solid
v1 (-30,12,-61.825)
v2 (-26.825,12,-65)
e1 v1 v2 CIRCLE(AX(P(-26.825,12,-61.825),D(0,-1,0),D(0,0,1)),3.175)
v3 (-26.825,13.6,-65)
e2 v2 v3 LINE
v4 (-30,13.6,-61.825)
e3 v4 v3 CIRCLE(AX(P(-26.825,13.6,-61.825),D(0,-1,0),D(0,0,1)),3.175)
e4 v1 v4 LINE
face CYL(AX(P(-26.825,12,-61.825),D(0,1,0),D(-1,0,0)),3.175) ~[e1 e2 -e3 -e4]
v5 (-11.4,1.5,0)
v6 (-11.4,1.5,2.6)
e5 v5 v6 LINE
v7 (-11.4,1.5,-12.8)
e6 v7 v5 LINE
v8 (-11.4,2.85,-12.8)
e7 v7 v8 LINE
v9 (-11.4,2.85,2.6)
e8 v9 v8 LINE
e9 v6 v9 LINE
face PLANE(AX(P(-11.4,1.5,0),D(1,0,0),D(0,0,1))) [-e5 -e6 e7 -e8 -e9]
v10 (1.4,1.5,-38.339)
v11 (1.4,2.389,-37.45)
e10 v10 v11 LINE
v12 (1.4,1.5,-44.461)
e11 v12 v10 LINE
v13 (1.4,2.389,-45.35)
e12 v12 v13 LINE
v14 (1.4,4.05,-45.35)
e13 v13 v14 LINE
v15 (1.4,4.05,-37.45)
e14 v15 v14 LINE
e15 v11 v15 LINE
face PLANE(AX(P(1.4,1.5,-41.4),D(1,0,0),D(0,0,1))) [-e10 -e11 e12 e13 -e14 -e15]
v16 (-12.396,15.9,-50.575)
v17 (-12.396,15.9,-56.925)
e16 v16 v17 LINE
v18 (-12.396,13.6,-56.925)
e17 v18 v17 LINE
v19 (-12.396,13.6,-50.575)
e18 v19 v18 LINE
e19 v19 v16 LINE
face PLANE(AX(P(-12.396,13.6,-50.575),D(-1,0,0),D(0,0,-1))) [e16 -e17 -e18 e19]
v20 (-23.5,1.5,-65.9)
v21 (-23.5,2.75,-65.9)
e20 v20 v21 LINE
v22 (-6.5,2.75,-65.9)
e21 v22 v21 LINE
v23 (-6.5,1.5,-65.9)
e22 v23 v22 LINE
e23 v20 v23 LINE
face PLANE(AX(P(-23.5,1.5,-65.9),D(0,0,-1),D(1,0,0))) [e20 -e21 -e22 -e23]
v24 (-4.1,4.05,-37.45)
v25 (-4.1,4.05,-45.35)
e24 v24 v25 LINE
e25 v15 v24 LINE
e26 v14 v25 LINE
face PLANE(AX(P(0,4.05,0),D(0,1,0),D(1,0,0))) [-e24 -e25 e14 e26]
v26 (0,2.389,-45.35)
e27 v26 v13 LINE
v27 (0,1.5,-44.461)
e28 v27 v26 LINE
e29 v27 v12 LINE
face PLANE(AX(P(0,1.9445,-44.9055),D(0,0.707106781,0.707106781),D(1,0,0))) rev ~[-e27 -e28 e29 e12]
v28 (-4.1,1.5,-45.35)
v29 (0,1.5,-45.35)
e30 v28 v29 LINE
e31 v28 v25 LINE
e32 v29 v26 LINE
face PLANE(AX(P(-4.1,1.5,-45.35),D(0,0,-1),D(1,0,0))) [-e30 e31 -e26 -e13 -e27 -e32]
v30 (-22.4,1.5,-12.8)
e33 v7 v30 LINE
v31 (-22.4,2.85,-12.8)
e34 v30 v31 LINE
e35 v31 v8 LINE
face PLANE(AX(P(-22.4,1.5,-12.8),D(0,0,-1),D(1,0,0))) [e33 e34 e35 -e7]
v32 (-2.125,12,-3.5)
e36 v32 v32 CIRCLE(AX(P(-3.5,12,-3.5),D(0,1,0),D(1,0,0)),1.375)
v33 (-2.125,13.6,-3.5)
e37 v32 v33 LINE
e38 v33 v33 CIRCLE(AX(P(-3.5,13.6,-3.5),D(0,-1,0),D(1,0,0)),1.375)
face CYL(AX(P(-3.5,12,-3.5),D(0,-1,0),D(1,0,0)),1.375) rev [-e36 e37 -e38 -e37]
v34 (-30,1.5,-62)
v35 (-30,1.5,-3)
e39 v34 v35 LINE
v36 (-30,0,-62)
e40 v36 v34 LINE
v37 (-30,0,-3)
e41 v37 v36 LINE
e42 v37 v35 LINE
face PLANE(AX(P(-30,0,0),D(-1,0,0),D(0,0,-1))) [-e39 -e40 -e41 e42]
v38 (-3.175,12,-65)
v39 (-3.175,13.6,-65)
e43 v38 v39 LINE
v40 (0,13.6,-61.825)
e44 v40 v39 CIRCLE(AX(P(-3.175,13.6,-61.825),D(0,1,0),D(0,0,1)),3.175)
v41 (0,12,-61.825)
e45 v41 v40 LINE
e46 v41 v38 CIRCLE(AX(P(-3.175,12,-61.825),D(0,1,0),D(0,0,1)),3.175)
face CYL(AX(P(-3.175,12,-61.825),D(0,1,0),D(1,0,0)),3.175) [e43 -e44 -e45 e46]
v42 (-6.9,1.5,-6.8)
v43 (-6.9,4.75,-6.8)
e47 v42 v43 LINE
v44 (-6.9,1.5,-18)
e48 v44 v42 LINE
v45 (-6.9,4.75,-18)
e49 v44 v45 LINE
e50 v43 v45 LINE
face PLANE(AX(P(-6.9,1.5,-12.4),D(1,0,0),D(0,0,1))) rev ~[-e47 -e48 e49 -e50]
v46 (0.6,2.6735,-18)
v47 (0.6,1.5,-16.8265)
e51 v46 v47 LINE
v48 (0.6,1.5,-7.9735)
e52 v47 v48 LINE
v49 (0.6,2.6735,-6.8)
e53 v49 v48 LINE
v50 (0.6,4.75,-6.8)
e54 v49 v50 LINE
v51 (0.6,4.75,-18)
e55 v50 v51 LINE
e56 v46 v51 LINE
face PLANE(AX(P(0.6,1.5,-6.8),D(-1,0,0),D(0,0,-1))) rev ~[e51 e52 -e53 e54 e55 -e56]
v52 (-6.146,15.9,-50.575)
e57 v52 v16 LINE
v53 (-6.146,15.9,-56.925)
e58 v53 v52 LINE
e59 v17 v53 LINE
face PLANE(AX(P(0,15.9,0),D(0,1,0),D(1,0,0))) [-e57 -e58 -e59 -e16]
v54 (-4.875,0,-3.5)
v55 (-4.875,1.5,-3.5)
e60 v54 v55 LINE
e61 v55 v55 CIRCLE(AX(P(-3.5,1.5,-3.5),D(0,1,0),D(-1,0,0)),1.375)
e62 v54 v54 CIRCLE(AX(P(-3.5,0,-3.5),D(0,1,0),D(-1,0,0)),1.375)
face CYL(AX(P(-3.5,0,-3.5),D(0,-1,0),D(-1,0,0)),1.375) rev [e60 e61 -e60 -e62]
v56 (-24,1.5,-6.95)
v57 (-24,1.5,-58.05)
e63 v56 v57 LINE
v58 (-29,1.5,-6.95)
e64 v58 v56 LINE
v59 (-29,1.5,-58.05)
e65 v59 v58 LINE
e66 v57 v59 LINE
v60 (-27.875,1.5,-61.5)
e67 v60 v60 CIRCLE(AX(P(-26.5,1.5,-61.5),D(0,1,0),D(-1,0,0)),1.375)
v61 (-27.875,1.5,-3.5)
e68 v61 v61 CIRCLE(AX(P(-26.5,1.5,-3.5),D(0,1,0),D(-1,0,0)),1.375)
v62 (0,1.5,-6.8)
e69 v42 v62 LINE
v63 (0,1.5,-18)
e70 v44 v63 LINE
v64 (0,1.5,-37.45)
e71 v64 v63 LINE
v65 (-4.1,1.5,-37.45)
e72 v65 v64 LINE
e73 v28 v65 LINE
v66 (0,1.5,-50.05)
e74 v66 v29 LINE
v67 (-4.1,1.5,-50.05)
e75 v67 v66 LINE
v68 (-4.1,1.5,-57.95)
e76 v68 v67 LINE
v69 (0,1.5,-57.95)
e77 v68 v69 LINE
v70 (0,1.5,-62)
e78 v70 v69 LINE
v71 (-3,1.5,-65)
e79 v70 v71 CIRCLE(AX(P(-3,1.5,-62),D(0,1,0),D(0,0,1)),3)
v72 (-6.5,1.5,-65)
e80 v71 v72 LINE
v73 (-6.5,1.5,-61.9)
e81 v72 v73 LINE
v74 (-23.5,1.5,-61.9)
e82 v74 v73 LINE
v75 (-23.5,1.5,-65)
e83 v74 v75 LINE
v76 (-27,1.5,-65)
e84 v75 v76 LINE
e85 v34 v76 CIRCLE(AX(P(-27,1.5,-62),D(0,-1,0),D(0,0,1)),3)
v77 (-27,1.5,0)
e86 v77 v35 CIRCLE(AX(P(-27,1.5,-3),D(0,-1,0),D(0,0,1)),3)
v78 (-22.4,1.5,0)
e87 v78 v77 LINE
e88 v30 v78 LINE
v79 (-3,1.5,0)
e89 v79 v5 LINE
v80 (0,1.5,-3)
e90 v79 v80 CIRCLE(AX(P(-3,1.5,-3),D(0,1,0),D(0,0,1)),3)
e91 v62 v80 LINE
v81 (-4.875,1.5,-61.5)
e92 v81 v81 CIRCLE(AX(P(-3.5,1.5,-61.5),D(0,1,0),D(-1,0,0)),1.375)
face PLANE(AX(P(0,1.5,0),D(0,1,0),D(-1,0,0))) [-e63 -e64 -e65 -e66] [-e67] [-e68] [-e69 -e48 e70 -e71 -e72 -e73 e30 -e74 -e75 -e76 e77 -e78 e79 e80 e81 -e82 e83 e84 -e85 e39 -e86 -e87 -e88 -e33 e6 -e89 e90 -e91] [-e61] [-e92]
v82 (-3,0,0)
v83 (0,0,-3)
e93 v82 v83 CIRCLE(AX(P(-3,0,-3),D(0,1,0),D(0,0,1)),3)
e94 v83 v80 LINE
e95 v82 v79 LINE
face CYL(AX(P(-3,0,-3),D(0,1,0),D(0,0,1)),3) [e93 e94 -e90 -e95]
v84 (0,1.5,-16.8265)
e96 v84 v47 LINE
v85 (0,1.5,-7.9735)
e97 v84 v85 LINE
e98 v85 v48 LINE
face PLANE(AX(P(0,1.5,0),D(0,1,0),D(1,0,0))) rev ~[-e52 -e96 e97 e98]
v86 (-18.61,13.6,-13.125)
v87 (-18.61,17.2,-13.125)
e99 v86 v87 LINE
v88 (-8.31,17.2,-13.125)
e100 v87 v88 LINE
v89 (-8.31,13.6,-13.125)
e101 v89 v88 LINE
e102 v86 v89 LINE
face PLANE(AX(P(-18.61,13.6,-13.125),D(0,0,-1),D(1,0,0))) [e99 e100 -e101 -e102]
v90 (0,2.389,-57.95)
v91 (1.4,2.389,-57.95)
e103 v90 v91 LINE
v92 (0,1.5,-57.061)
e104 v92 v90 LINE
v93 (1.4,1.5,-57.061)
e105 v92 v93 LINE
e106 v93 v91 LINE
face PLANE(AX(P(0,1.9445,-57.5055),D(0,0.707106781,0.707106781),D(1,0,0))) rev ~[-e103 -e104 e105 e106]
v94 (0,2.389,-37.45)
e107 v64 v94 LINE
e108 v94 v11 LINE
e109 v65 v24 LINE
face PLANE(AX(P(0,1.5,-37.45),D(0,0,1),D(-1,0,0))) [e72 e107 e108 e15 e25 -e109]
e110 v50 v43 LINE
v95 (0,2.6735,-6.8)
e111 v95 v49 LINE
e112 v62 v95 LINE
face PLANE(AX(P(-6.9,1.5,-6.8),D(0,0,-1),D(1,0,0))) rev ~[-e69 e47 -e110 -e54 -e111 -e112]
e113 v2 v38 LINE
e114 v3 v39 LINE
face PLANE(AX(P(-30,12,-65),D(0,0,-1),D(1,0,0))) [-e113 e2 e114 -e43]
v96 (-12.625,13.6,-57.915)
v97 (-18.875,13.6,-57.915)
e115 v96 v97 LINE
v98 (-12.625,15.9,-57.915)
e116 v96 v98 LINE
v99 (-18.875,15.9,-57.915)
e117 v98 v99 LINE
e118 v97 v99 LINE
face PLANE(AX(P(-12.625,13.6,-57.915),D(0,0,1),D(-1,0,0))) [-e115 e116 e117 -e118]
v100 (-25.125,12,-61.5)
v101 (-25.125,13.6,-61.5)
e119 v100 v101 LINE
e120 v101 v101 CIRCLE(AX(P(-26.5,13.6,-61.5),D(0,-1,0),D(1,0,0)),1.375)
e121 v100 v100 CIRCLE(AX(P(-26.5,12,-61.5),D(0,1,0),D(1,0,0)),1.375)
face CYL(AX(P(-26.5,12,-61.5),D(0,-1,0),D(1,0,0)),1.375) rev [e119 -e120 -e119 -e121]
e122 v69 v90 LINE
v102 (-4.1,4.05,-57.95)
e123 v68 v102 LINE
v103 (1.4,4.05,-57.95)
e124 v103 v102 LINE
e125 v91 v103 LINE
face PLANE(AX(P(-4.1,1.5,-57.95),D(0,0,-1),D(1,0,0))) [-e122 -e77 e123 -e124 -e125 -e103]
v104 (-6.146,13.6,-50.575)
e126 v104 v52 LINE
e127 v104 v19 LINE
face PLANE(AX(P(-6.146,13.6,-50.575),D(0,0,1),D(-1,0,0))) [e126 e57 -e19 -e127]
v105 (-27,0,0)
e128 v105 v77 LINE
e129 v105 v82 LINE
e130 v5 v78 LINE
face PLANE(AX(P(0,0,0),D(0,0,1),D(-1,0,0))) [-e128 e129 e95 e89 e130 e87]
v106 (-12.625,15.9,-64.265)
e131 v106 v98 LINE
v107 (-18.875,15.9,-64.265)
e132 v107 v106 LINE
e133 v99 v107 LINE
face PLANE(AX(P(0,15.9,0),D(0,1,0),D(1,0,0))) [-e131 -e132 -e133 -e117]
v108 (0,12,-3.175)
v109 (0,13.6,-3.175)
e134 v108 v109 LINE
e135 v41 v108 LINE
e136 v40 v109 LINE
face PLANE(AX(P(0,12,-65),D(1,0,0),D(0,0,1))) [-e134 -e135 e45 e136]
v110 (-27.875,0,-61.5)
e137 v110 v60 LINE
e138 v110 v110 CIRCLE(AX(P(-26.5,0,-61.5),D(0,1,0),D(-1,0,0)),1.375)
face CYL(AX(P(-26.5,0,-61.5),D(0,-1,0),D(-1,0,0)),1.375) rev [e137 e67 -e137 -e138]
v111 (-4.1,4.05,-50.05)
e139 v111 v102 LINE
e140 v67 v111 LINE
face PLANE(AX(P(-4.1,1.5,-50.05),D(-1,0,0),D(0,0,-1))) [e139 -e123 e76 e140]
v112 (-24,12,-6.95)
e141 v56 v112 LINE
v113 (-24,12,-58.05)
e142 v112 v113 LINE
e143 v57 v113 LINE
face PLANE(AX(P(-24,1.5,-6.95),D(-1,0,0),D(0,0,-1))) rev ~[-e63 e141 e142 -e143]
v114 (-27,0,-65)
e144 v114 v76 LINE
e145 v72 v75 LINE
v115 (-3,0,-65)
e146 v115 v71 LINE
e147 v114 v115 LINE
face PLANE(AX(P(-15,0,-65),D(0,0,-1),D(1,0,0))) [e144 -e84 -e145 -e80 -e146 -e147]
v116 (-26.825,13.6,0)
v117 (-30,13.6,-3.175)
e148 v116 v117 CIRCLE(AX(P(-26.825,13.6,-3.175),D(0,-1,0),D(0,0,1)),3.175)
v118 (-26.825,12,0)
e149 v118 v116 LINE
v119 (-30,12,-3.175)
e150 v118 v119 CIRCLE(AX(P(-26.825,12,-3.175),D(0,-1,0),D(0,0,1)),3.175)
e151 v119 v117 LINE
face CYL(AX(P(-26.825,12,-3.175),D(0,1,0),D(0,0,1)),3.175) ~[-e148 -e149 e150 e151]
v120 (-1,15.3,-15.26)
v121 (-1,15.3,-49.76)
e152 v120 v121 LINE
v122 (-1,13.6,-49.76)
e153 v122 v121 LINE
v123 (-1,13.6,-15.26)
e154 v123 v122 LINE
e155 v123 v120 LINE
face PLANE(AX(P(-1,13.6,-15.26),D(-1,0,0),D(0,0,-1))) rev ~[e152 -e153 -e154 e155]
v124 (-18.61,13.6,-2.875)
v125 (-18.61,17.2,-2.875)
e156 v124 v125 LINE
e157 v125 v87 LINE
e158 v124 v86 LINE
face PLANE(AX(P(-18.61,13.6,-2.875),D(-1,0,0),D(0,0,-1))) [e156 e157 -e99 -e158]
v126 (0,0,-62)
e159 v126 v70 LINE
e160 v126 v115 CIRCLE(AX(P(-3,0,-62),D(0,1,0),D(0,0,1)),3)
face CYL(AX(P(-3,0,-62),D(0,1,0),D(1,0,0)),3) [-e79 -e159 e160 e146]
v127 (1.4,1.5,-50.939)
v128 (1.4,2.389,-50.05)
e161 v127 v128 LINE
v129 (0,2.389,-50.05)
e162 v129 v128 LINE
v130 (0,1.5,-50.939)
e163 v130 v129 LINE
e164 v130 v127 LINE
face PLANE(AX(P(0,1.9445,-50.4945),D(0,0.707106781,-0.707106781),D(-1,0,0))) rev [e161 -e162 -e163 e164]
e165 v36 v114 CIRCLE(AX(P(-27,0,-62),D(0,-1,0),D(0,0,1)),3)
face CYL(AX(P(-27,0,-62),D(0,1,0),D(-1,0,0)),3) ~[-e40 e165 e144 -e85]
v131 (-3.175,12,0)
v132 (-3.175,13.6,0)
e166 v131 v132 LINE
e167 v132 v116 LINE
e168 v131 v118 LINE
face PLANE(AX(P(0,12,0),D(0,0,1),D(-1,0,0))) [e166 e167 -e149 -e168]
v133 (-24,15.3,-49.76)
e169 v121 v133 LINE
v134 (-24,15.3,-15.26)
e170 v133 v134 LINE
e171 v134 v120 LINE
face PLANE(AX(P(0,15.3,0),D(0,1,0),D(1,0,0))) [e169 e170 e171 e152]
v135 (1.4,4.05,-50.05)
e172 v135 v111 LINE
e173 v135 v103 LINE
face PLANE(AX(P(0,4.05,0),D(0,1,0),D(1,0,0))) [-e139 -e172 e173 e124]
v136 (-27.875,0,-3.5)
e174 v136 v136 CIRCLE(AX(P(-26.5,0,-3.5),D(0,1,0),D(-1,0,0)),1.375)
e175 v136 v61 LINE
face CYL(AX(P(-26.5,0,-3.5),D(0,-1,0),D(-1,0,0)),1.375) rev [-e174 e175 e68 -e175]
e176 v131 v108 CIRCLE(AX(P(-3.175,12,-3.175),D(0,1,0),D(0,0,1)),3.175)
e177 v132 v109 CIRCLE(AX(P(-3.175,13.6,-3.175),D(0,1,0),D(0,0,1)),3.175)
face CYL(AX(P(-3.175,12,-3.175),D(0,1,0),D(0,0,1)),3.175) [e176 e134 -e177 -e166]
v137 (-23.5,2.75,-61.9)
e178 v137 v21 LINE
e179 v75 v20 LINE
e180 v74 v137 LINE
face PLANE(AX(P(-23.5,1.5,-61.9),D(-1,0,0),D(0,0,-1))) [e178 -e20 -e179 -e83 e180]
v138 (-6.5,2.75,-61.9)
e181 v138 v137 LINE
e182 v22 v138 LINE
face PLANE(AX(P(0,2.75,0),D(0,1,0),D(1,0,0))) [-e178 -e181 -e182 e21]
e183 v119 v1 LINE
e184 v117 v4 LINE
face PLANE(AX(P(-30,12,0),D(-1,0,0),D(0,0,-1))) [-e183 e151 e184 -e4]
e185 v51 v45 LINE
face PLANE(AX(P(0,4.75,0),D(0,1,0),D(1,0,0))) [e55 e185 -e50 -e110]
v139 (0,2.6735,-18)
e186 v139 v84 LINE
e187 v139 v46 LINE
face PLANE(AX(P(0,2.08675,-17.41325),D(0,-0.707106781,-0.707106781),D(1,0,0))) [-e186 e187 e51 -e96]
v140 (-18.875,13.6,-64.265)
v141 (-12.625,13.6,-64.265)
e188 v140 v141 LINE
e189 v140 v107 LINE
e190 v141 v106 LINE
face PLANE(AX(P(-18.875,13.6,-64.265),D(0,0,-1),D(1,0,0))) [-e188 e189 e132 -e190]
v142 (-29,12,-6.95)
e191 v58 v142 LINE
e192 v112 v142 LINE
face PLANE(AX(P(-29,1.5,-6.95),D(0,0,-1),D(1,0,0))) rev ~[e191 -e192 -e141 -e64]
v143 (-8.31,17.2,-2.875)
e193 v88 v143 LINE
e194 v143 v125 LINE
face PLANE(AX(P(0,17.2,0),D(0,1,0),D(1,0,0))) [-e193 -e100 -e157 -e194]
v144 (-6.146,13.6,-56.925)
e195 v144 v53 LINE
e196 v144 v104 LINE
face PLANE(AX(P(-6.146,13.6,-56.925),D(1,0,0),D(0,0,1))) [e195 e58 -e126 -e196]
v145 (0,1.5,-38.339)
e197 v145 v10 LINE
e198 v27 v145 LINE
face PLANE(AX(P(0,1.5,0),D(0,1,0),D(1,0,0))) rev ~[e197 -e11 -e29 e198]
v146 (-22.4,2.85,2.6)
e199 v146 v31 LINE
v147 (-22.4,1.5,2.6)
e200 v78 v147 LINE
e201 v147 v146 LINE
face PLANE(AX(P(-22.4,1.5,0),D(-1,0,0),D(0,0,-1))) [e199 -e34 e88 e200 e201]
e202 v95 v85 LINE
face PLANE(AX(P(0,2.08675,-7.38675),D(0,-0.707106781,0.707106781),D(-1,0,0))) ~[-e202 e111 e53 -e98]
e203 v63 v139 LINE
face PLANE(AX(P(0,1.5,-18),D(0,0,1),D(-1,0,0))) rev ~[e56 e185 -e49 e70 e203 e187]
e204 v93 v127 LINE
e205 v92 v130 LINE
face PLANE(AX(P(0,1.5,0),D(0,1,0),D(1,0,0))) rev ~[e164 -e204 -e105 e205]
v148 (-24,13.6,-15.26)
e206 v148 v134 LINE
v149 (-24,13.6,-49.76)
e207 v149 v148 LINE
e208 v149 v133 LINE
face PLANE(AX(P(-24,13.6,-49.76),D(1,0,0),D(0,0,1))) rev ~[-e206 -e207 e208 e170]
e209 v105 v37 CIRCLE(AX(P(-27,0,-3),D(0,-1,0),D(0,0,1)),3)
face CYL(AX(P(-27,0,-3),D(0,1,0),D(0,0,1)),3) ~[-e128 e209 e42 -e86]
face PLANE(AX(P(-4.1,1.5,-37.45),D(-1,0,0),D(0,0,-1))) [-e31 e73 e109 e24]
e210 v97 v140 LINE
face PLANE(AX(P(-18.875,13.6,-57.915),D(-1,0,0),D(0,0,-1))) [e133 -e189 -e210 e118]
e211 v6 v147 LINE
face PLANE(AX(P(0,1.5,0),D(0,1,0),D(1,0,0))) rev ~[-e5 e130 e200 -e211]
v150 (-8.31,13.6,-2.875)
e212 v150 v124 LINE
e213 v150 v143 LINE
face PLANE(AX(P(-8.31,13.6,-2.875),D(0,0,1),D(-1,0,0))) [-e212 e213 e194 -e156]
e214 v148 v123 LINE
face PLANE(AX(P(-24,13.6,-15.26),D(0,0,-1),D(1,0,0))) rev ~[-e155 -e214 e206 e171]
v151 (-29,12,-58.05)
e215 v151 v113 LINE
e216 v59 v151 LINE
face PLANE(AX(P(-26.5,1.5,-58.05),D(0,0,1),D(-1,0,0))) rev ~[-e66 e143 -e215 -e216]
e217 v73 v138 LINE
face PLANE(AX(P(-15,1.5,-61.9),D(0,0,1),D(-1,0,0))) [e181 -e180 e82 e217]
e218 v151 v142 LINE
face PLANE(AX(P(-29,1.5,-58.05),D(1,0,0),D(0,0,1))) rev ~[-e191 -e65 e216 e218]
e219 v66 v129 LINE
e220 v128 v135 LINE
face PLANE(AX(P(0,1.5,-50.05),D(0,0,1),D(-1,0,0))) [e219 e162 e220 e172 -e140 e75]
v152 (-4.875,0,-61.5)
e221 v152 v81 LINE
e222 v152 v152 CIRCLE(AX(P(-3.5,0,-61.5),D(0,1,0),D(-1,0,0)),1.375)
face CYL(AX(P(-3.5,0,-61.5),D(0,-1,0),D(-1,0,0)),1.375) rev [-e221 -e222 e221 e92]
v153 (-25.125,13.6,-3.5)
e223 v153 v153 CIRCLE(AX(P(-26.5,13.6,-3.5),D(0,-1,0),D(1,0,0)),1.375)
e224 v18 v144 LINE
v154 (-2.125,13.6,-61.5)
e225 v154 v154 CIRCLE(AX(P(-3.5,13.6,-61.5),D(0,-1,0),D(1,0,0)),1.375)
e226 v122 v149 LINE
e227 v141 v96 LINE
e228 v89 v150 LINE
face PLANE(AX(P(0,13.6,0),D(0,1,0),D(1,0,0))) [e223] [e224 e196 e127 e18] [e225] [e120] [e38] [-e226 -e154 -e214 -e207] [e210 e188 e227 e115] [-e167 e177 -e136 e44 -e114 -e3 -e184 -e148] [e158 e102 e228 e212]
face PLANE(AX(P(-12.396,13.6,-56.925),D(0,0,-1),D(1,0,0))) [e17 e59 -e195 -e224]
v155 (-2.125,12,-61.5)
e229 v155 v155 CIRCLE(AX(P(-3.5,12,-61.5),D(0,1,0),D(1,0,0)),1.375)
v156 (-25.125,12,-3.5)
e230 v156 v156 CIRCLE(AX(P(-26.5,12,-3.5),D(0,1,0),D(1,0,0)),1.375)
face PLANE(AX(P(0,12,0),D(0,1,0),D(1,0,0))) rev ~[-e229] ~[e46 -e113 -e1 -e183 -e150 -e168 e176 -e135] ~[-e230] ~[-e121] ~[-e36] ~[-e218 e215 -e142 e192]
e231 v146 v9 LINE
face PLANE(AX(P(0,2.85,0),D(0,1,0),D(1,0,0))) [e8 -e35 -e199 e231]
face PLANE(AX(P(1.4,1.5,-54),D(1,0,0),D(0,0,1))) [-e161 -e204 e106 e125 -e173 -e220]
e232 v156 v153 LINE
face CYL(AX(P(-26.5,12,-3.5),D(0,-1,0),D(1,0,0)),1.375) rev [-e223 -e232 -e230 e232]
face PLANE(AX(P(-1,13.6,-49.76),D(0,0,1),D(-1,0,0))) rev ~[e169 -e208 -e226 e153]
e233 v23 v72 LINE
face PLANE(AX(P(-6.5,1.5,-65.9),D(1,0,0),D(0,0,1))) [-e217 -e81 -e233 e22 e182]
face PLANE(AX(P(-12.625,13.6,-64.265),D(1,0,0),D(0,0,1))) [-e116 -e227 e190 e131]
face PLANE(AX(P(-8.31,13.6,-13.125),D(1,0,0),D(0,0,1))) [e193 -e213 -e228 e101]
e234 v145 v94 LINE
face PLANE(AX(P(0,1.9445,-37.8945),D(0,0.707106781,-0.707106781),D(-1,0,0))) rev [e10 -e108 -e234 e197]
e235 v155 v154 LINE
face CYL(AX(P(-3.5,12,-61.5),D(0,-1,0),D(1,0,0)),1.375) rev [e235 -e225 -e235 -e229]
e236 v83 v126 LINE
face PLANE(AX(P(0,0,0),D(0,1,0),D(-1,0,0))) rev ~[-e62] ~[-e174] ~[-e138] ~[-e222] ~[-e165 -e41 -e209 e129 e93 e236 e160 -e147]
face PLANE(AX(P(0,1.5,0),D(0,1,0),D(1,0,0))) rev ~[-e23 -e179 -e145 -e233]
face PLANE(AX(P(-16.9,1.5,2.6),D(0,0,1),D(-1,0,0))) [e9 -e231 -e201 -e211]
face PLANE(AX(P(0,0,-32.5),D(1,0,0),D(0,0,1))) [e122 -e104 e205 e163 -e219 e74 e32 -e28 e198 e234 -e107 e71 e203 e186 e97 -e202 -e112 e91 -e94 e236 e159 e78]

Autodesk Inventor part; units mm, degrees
ref_plane "YZ Plane" through (0, 0, 0) normal (1, 0, 0) x (0, 1, 0)
ref_plane "XZ Plane" through (0, 0, 0) normal (0, 1, 0) x (-1, 0, 0)
ref_plane "XY Plane" through (0, 0, 0) normal (0, 0, 1) x (1, 0, 0)
sketch "Sketch1" plane through (0, 0, 0) normal (0, 1, 0) x (-1, 0, 0)
  line L0 (0, 0) -> (30, 0)
  line L1 (30, 0) -> (30, -65)
  line L2 (30, -65) -> (0, -65)
  line L3 (0, -65) -> (0, 0)
  circle A0 centre (26.5, -3.5) radius 1.375
  circle A1 centre (3.5, -3.5) radius 1.375
  circle A2 centre (26.5, -61.5) radius 1.375
  circle A3 centre (3.5, -61.5) radius 1.375
  line L4 (15, 0) -> (15, -65)
  line L5 (30, -32.5) -> (0, -32.5)
  dimension "d0" = 65
  dimension "d1" = 30
  dimension "d2" = 3.5
  dimension "d3" = 3.5
  dimension "d4" = 3.5
  dimension "d5" = 3.5
  dimension "d6" = 3.5
  dimension "d7" = 3.5
  dimension "d8" = 3.5
  dimension "d9" = 3.5
  dimension "d10" = 2.75
  dimension "d11" = 2.75
  dimension "d12" = 2.75
  dimension "d13" = 2.75
  dimension "d14" = 15
  dimension "d15" = 32.5
extrude "Extrusion1" add sketch "Sketch1" along normal blind 1.5
fillet "Fillet1" radius 3 4 edges at (-30, 0.75, 0) (0, 0.75, 0) (0, 0.75, -65) (-30, 0.75, -65)
sketch "Sketch2" plane through (0, 1.5, 0) normal (0, 1, 0) x (1, 0, 0)
  line L0 (-6.9, 6.8) -> (0.6, 6.8)
  line L1 (0.6, 6.8) -> (0.6, 18)
  line L2 (0.6, 18) -> (-6.9, 18)
  line L3 (-6.9, 18) -> (-6.9, 6.8)
  line L4 (-27, 0) -> (-3, 0) projected
  line L5 (-15, 0) -> (-15, 64.9233)
  line L6 (-30, 62) -> (-30, 3) projected
  line L7 (0.6, 12.4) -> (-6.9, 12.4)
  line L8 (-4.1, 57.95) -> (1.4, 57.95)
  line L9 (1.4, 57.95) -> (1.4, 50.05)
  line L10 (1.4, 50.05) -> (-4.1, 50.05)
  line L11 (-4.1, 50.05) -> (-4.1, 57.95)
  line L12 (-4.1, 45.35) -> (1.4, 45.35)
  line L13 (1.4, 45.35) -> (1.4, 37.45)
  line L14 (1.4, 37.45) -> (-4.1, 37.45)
  line L15 (-4.1, 37.45) -> (-4.1, 45.35)
  line L16 (-4.1, 41.4) -> (1.4, 41.4)
  line L17 (-4.1, 54) -> (1.4, 54)
  line L18 (-22.4, 12.8) -> (-11.4, 12.8)
  line L19 (-11.4, 12.8) -> (-11.4, -2.6)
  line L20 (-11.4, -2.6) -> (-22.4, -2.6)
  line L21 (-22.4, -2.6) -> (-22.4, 12.8)
  line L22 (-16.9, 12.8) -> (-16.9, -2.6)
  line L23 (0, 3) -> (0, 62) projected
  line L24 (-23.5, 65.9) -> (-6.5, 65.9)
  line L25 (-6.5, 65.9) -> (-6.5, 61.9)
  line L26 (-6.5, 61.9) -> (-23.5, 61.9)
  line L27 (-23.5, 61.9) -> (-23.5, 65.9)
  line L28 (-15, 65.9) -> (-15, 61.9)
  point P0 (0, 0)
  dimension "d19" = 11.2
  dimension "d20" = 7.5
  dimension "d21" = 15
  dimension "d23" = 12.4
  dimension "d24" = 7.9
  dimension "d25" = 7.9
  dimension "d26" = 5.5
  dimension "d27" = 3.95
  dimension "d28" = 3.95
  dimension "d29" = 41.4
  dimension "d30" = 54
  dimension "d32" = 30.6
  dimension "d33" = 31.4
  dimension "d34" = 11
  dimension "d35" = 15.4
  dimension "d36" = 2.6
  dimension "d37" = 5.5
  dimension "d38" = 16.9
  dimension "d39" = 65.9
  dimension "d40" = 4
  dimension "d41" = 17
  dimension "d42" = 8.5
  dimension "d43" = 15
extrude "Extrusion2" add sketch "Sketch2" along normal blind 3.25 contours L3 L7 L23 L0 | L23 L7 L1 L0 | L3 L2 L23 L7 | L23 L2 L1 L7
extrude "Extrusion3" add sketch "Sketch2" along normal blind 2.55 contours L10 L11 L17 L23 | L23 L17 L9 L10 | L14 L15 L16 L23 | L23 L16 L13 L14 | L23 L12 L13 L16 | L16 L15 L12 L23 | L23 L8 L9 L17 | L17 L11 L8 L23
extrude "Extrusion4" add sketch "Sketch2" along normal blind 1.25 contours L26 L27 L24 L28 L5 | L5 L28 L24 L25 L26
extrude "Extrusion5" add sketch "Sketch2" along normal blind 1.35 contours L21 L18 L22 L4 | L4 L22 L20 L21 | L22 L18 L5 L4 | L4 L19 L20 L22 | L5 L18 L19 L4
sketch "Sketch3" plane through (0, 1.5, 0) normal (0, 1, 0) x (1, 0, 0)
  line L0 (-29, 6.95) -> (-24, 6.95)
  line L1 (-24, 6.95) -> (-24, 58.05)
  line L2 (-24, 58.05) -> (-29, 58.05)
  line L3 (-29, 58.05) -> (-29, 6.95)
  line L4 (-26.5, 58.05) -> (-26.5, 6.95)
  circle A0 centre (-26.5, 3.5) radius 1.375 projected
  line L5 (-26.5, 3.5) -> (-26.5, 61.8145)
  line L6 (-27, 0) -> (-22.4, 0) projected
  point P0 (0, 0)
  dimension "d52" = 5
  dimension "d53" = 6.95
  dimension "d54" = 51.1
extrude "Extrusion6" add sketch "Sketch3" along normal blind 10.5 contours L3 L2 L4 L0 | L4 L2 L1 L0
chamfer "Chamfer1" distance 1.1735 angle 45 2 edges at (0.3, 1.5, -6.8) (0.3, 1.5, -18)
chamfer "Chamfer2" distance 0.889 angle 45 4 edges at (0.7, 1.5, -37.45) (0.7, 1.5, -45.35) (0.7, 1.5, -50.05) (0.7, 1.5, -57.95)
sketch "Sketch4" plane through (0, 12, 0) normal (0, 1, 0) x (1, 0, 0)
  line L0 (0, 0) -> (-30, 0)
  line L1 (-30, 0) -> (-30, 65)
  line L2 (-30, 65) -> (0, 65)
  line L3 (0, 65) -> (0, 0)
  circle A0 centre (-26.5, 3.5) radius 1.375 projected
  circle A1 centre (-26.5, 3.5) radius 1.375
  circle A2 centre (-3.5, 3.5) radius 1.375
  circle A3 centre (-3.5, 61.5) radius 1.375
  circle A4 centre (-26.5, 61.5) radius 1.375
  dimension "d63" = 30
  dimension "d64" = 65
  dimension "d67" = 3.5
  dimension "d68" = 3.5
  dimension "d69" = 3.5
  dimension "d70" = 3.5
  dimension "d71" = 3.5
  dimension "d72" = 3.5
  dimension "d73" = 3.5
  dimension "d74" = 3.5
extrude "Extrusion7" add sketch "Sketch4" along normal blind 1.6 contours L0 L1 L2 L3 | A0 | A2 | A3 | A4
extrude "Extrusion8" cut sketch "Sketch4" along normal blind 2 contours A0 | A2 | A3 | A4
fillet "Fillet2" radius 3.175 4 edges at (-30, 12.8, 0) (0, 12.8, 0) (0, 12.8, -65) (-30, 12.8, -65)
sketch "Sketch5" plane through (0, 13.6, 0) normal (0, 1, 0) x (1, 0, 0)
  line L0 (-18.875, 64.265) -> (-12.625, 64.265)
  line L1 (-12.625, 64.265) -> (-12.625, 57.915)
  line L2 (-12.625, 57.915) -> (-18.875, 57.915)
  line L3 (-18.875, 57.915) -> (-18.875, 64.265)
  line L4 (-12.396, 56.925) -> (-6.146, 56.925)
  line L5 (-6.146, 56.925) -> (-6.146, 50.575)
  line L6 (-6.146, 50.575) -> (-12.396, 50.575)
  line L7 (-12.396, 50.575) -> (-12.396, 56.925)
  line L8 (-18.61, 13.125) -> (-8.31, 13.125)
  line L9 (-8.31, 13.125) -> (-8.31, 2.875)
  line L10 (-8.31, 2.875) -> (-18.61, 2.875)
  line L11 (-18.61, 2.875) -> (-18.61, 13.125)
  line L12 (-18.875, 57.915) -> (-12.625, 64.265) construction
  line L13 (-18.875, 64.265) -> (-12.625, 57.915) construction
  line L14 (-18.61, 2.875) -> (-8.31, 13.125) construction
  line L15 (-18.61, 13.125) -> (-8.31, 2.875) construction
  line L16 (-26.825, 0) -> (-3.175, 0) construction
  line L17 (0, 3.175) -> (0, 61.825) construction
  line L18 (-12.396, 50.575) -> (-6.146, 56.925) construction
  line L19 (-12.396, 56.925) -> (-6.146, 50.575) construction
  line L20 (-3.175, 65) -> (-26.825, 65) construction
  line L21 (-30, 61.825) -> (-30, 3.175) construction
  line L22 (-24, 15.26) -> (-1, 15.26)
  line L23 (-1, 15.26) -> (-1, 49.76)
  line L24 (-1, 49.76) -> (-24, 49.76)
  line L25 (-24, 49.76) -> (-24, 15.26)
  line L26 (-24, 15.26) -> (-1, 49.76) construction
  line L27 (-24, 49.76) -> (-1, 15.26) construction
  point P0 (0, 0)
  point P1 (-13.46, 8)
  point P2 (-9.271, 53.75)
  point P3 (-15.75, 61.09)
  point P4 (-12.5, 32.51)
  dimension "d80" = 6.35
  dimension "d81" = 6.25
  dimension "d82" = 6.25
  dimension "d83" = 6.35
  dimension "d84" = 10.3
  dimension "d85" = 10.25
  dimension "d87" = 8
  dimension "d88" = 13.46
  dimension "d90" = 9.271
  dimension "d91" = 15.75
  dimension "d94" = 3.91
  dimension "d95" = 11.25
  dimension "d98" = 6
  dimension "d99" = 23
  dimension "d100" = 34.5
  dimension "d101" = 32.51
extrude "Extrusion9" add sketch "Sketch5" along normal blind 2.3 contours L0 L1 L2 L3 | L4 L5 L6 L7
extrude "Extrusion10" add sketch "Sketch5" along normal blind 3.6 contours L8 L9 L10 L11
extrude "Extrusion11" add sketch "Sketch5" along normal blind 1.7 contours L25 L24 L23 L22
equation "\"d3\" = d2"
equation "\"d4\" = d3"
equation "\"d5\" = d2"
equation "\"d6\" = d2"
equation "\"d7\" = d3"
equation "\"d8\" = d3"
equation "\"d9\" = d2"
equation "\"d11\" = d10"
equation "\"d12\" = d10"
equation "\"d13\" = d10"
equation "\"d14\" = 0.5 * d1"
equation "\"d15\" = 0.5 * d0"
equation "\"d21\" = d14"
equation "\"d25\" = d24"
equation "\"d27\" = 0.5 * d25"
equation "\"d37\" = 0.5 * d34"
equation "\"d42\" = 0.5 * d41"
equation "\"d43\" = d14"
equation "\"d53\" = -0.5 * d54 + 0.5 * d0"
equation "\"d67\" = d8"
equation "\"d68\" = d67"
equation "\"d69\" = d6"
equation "\"d70\" = d7"
equation "\"d71\" = d5"
equation "\"d72\" = d4"
equation "\"d83\" = d80"
properties part number "pizero_model" material "UHMW, Black"
